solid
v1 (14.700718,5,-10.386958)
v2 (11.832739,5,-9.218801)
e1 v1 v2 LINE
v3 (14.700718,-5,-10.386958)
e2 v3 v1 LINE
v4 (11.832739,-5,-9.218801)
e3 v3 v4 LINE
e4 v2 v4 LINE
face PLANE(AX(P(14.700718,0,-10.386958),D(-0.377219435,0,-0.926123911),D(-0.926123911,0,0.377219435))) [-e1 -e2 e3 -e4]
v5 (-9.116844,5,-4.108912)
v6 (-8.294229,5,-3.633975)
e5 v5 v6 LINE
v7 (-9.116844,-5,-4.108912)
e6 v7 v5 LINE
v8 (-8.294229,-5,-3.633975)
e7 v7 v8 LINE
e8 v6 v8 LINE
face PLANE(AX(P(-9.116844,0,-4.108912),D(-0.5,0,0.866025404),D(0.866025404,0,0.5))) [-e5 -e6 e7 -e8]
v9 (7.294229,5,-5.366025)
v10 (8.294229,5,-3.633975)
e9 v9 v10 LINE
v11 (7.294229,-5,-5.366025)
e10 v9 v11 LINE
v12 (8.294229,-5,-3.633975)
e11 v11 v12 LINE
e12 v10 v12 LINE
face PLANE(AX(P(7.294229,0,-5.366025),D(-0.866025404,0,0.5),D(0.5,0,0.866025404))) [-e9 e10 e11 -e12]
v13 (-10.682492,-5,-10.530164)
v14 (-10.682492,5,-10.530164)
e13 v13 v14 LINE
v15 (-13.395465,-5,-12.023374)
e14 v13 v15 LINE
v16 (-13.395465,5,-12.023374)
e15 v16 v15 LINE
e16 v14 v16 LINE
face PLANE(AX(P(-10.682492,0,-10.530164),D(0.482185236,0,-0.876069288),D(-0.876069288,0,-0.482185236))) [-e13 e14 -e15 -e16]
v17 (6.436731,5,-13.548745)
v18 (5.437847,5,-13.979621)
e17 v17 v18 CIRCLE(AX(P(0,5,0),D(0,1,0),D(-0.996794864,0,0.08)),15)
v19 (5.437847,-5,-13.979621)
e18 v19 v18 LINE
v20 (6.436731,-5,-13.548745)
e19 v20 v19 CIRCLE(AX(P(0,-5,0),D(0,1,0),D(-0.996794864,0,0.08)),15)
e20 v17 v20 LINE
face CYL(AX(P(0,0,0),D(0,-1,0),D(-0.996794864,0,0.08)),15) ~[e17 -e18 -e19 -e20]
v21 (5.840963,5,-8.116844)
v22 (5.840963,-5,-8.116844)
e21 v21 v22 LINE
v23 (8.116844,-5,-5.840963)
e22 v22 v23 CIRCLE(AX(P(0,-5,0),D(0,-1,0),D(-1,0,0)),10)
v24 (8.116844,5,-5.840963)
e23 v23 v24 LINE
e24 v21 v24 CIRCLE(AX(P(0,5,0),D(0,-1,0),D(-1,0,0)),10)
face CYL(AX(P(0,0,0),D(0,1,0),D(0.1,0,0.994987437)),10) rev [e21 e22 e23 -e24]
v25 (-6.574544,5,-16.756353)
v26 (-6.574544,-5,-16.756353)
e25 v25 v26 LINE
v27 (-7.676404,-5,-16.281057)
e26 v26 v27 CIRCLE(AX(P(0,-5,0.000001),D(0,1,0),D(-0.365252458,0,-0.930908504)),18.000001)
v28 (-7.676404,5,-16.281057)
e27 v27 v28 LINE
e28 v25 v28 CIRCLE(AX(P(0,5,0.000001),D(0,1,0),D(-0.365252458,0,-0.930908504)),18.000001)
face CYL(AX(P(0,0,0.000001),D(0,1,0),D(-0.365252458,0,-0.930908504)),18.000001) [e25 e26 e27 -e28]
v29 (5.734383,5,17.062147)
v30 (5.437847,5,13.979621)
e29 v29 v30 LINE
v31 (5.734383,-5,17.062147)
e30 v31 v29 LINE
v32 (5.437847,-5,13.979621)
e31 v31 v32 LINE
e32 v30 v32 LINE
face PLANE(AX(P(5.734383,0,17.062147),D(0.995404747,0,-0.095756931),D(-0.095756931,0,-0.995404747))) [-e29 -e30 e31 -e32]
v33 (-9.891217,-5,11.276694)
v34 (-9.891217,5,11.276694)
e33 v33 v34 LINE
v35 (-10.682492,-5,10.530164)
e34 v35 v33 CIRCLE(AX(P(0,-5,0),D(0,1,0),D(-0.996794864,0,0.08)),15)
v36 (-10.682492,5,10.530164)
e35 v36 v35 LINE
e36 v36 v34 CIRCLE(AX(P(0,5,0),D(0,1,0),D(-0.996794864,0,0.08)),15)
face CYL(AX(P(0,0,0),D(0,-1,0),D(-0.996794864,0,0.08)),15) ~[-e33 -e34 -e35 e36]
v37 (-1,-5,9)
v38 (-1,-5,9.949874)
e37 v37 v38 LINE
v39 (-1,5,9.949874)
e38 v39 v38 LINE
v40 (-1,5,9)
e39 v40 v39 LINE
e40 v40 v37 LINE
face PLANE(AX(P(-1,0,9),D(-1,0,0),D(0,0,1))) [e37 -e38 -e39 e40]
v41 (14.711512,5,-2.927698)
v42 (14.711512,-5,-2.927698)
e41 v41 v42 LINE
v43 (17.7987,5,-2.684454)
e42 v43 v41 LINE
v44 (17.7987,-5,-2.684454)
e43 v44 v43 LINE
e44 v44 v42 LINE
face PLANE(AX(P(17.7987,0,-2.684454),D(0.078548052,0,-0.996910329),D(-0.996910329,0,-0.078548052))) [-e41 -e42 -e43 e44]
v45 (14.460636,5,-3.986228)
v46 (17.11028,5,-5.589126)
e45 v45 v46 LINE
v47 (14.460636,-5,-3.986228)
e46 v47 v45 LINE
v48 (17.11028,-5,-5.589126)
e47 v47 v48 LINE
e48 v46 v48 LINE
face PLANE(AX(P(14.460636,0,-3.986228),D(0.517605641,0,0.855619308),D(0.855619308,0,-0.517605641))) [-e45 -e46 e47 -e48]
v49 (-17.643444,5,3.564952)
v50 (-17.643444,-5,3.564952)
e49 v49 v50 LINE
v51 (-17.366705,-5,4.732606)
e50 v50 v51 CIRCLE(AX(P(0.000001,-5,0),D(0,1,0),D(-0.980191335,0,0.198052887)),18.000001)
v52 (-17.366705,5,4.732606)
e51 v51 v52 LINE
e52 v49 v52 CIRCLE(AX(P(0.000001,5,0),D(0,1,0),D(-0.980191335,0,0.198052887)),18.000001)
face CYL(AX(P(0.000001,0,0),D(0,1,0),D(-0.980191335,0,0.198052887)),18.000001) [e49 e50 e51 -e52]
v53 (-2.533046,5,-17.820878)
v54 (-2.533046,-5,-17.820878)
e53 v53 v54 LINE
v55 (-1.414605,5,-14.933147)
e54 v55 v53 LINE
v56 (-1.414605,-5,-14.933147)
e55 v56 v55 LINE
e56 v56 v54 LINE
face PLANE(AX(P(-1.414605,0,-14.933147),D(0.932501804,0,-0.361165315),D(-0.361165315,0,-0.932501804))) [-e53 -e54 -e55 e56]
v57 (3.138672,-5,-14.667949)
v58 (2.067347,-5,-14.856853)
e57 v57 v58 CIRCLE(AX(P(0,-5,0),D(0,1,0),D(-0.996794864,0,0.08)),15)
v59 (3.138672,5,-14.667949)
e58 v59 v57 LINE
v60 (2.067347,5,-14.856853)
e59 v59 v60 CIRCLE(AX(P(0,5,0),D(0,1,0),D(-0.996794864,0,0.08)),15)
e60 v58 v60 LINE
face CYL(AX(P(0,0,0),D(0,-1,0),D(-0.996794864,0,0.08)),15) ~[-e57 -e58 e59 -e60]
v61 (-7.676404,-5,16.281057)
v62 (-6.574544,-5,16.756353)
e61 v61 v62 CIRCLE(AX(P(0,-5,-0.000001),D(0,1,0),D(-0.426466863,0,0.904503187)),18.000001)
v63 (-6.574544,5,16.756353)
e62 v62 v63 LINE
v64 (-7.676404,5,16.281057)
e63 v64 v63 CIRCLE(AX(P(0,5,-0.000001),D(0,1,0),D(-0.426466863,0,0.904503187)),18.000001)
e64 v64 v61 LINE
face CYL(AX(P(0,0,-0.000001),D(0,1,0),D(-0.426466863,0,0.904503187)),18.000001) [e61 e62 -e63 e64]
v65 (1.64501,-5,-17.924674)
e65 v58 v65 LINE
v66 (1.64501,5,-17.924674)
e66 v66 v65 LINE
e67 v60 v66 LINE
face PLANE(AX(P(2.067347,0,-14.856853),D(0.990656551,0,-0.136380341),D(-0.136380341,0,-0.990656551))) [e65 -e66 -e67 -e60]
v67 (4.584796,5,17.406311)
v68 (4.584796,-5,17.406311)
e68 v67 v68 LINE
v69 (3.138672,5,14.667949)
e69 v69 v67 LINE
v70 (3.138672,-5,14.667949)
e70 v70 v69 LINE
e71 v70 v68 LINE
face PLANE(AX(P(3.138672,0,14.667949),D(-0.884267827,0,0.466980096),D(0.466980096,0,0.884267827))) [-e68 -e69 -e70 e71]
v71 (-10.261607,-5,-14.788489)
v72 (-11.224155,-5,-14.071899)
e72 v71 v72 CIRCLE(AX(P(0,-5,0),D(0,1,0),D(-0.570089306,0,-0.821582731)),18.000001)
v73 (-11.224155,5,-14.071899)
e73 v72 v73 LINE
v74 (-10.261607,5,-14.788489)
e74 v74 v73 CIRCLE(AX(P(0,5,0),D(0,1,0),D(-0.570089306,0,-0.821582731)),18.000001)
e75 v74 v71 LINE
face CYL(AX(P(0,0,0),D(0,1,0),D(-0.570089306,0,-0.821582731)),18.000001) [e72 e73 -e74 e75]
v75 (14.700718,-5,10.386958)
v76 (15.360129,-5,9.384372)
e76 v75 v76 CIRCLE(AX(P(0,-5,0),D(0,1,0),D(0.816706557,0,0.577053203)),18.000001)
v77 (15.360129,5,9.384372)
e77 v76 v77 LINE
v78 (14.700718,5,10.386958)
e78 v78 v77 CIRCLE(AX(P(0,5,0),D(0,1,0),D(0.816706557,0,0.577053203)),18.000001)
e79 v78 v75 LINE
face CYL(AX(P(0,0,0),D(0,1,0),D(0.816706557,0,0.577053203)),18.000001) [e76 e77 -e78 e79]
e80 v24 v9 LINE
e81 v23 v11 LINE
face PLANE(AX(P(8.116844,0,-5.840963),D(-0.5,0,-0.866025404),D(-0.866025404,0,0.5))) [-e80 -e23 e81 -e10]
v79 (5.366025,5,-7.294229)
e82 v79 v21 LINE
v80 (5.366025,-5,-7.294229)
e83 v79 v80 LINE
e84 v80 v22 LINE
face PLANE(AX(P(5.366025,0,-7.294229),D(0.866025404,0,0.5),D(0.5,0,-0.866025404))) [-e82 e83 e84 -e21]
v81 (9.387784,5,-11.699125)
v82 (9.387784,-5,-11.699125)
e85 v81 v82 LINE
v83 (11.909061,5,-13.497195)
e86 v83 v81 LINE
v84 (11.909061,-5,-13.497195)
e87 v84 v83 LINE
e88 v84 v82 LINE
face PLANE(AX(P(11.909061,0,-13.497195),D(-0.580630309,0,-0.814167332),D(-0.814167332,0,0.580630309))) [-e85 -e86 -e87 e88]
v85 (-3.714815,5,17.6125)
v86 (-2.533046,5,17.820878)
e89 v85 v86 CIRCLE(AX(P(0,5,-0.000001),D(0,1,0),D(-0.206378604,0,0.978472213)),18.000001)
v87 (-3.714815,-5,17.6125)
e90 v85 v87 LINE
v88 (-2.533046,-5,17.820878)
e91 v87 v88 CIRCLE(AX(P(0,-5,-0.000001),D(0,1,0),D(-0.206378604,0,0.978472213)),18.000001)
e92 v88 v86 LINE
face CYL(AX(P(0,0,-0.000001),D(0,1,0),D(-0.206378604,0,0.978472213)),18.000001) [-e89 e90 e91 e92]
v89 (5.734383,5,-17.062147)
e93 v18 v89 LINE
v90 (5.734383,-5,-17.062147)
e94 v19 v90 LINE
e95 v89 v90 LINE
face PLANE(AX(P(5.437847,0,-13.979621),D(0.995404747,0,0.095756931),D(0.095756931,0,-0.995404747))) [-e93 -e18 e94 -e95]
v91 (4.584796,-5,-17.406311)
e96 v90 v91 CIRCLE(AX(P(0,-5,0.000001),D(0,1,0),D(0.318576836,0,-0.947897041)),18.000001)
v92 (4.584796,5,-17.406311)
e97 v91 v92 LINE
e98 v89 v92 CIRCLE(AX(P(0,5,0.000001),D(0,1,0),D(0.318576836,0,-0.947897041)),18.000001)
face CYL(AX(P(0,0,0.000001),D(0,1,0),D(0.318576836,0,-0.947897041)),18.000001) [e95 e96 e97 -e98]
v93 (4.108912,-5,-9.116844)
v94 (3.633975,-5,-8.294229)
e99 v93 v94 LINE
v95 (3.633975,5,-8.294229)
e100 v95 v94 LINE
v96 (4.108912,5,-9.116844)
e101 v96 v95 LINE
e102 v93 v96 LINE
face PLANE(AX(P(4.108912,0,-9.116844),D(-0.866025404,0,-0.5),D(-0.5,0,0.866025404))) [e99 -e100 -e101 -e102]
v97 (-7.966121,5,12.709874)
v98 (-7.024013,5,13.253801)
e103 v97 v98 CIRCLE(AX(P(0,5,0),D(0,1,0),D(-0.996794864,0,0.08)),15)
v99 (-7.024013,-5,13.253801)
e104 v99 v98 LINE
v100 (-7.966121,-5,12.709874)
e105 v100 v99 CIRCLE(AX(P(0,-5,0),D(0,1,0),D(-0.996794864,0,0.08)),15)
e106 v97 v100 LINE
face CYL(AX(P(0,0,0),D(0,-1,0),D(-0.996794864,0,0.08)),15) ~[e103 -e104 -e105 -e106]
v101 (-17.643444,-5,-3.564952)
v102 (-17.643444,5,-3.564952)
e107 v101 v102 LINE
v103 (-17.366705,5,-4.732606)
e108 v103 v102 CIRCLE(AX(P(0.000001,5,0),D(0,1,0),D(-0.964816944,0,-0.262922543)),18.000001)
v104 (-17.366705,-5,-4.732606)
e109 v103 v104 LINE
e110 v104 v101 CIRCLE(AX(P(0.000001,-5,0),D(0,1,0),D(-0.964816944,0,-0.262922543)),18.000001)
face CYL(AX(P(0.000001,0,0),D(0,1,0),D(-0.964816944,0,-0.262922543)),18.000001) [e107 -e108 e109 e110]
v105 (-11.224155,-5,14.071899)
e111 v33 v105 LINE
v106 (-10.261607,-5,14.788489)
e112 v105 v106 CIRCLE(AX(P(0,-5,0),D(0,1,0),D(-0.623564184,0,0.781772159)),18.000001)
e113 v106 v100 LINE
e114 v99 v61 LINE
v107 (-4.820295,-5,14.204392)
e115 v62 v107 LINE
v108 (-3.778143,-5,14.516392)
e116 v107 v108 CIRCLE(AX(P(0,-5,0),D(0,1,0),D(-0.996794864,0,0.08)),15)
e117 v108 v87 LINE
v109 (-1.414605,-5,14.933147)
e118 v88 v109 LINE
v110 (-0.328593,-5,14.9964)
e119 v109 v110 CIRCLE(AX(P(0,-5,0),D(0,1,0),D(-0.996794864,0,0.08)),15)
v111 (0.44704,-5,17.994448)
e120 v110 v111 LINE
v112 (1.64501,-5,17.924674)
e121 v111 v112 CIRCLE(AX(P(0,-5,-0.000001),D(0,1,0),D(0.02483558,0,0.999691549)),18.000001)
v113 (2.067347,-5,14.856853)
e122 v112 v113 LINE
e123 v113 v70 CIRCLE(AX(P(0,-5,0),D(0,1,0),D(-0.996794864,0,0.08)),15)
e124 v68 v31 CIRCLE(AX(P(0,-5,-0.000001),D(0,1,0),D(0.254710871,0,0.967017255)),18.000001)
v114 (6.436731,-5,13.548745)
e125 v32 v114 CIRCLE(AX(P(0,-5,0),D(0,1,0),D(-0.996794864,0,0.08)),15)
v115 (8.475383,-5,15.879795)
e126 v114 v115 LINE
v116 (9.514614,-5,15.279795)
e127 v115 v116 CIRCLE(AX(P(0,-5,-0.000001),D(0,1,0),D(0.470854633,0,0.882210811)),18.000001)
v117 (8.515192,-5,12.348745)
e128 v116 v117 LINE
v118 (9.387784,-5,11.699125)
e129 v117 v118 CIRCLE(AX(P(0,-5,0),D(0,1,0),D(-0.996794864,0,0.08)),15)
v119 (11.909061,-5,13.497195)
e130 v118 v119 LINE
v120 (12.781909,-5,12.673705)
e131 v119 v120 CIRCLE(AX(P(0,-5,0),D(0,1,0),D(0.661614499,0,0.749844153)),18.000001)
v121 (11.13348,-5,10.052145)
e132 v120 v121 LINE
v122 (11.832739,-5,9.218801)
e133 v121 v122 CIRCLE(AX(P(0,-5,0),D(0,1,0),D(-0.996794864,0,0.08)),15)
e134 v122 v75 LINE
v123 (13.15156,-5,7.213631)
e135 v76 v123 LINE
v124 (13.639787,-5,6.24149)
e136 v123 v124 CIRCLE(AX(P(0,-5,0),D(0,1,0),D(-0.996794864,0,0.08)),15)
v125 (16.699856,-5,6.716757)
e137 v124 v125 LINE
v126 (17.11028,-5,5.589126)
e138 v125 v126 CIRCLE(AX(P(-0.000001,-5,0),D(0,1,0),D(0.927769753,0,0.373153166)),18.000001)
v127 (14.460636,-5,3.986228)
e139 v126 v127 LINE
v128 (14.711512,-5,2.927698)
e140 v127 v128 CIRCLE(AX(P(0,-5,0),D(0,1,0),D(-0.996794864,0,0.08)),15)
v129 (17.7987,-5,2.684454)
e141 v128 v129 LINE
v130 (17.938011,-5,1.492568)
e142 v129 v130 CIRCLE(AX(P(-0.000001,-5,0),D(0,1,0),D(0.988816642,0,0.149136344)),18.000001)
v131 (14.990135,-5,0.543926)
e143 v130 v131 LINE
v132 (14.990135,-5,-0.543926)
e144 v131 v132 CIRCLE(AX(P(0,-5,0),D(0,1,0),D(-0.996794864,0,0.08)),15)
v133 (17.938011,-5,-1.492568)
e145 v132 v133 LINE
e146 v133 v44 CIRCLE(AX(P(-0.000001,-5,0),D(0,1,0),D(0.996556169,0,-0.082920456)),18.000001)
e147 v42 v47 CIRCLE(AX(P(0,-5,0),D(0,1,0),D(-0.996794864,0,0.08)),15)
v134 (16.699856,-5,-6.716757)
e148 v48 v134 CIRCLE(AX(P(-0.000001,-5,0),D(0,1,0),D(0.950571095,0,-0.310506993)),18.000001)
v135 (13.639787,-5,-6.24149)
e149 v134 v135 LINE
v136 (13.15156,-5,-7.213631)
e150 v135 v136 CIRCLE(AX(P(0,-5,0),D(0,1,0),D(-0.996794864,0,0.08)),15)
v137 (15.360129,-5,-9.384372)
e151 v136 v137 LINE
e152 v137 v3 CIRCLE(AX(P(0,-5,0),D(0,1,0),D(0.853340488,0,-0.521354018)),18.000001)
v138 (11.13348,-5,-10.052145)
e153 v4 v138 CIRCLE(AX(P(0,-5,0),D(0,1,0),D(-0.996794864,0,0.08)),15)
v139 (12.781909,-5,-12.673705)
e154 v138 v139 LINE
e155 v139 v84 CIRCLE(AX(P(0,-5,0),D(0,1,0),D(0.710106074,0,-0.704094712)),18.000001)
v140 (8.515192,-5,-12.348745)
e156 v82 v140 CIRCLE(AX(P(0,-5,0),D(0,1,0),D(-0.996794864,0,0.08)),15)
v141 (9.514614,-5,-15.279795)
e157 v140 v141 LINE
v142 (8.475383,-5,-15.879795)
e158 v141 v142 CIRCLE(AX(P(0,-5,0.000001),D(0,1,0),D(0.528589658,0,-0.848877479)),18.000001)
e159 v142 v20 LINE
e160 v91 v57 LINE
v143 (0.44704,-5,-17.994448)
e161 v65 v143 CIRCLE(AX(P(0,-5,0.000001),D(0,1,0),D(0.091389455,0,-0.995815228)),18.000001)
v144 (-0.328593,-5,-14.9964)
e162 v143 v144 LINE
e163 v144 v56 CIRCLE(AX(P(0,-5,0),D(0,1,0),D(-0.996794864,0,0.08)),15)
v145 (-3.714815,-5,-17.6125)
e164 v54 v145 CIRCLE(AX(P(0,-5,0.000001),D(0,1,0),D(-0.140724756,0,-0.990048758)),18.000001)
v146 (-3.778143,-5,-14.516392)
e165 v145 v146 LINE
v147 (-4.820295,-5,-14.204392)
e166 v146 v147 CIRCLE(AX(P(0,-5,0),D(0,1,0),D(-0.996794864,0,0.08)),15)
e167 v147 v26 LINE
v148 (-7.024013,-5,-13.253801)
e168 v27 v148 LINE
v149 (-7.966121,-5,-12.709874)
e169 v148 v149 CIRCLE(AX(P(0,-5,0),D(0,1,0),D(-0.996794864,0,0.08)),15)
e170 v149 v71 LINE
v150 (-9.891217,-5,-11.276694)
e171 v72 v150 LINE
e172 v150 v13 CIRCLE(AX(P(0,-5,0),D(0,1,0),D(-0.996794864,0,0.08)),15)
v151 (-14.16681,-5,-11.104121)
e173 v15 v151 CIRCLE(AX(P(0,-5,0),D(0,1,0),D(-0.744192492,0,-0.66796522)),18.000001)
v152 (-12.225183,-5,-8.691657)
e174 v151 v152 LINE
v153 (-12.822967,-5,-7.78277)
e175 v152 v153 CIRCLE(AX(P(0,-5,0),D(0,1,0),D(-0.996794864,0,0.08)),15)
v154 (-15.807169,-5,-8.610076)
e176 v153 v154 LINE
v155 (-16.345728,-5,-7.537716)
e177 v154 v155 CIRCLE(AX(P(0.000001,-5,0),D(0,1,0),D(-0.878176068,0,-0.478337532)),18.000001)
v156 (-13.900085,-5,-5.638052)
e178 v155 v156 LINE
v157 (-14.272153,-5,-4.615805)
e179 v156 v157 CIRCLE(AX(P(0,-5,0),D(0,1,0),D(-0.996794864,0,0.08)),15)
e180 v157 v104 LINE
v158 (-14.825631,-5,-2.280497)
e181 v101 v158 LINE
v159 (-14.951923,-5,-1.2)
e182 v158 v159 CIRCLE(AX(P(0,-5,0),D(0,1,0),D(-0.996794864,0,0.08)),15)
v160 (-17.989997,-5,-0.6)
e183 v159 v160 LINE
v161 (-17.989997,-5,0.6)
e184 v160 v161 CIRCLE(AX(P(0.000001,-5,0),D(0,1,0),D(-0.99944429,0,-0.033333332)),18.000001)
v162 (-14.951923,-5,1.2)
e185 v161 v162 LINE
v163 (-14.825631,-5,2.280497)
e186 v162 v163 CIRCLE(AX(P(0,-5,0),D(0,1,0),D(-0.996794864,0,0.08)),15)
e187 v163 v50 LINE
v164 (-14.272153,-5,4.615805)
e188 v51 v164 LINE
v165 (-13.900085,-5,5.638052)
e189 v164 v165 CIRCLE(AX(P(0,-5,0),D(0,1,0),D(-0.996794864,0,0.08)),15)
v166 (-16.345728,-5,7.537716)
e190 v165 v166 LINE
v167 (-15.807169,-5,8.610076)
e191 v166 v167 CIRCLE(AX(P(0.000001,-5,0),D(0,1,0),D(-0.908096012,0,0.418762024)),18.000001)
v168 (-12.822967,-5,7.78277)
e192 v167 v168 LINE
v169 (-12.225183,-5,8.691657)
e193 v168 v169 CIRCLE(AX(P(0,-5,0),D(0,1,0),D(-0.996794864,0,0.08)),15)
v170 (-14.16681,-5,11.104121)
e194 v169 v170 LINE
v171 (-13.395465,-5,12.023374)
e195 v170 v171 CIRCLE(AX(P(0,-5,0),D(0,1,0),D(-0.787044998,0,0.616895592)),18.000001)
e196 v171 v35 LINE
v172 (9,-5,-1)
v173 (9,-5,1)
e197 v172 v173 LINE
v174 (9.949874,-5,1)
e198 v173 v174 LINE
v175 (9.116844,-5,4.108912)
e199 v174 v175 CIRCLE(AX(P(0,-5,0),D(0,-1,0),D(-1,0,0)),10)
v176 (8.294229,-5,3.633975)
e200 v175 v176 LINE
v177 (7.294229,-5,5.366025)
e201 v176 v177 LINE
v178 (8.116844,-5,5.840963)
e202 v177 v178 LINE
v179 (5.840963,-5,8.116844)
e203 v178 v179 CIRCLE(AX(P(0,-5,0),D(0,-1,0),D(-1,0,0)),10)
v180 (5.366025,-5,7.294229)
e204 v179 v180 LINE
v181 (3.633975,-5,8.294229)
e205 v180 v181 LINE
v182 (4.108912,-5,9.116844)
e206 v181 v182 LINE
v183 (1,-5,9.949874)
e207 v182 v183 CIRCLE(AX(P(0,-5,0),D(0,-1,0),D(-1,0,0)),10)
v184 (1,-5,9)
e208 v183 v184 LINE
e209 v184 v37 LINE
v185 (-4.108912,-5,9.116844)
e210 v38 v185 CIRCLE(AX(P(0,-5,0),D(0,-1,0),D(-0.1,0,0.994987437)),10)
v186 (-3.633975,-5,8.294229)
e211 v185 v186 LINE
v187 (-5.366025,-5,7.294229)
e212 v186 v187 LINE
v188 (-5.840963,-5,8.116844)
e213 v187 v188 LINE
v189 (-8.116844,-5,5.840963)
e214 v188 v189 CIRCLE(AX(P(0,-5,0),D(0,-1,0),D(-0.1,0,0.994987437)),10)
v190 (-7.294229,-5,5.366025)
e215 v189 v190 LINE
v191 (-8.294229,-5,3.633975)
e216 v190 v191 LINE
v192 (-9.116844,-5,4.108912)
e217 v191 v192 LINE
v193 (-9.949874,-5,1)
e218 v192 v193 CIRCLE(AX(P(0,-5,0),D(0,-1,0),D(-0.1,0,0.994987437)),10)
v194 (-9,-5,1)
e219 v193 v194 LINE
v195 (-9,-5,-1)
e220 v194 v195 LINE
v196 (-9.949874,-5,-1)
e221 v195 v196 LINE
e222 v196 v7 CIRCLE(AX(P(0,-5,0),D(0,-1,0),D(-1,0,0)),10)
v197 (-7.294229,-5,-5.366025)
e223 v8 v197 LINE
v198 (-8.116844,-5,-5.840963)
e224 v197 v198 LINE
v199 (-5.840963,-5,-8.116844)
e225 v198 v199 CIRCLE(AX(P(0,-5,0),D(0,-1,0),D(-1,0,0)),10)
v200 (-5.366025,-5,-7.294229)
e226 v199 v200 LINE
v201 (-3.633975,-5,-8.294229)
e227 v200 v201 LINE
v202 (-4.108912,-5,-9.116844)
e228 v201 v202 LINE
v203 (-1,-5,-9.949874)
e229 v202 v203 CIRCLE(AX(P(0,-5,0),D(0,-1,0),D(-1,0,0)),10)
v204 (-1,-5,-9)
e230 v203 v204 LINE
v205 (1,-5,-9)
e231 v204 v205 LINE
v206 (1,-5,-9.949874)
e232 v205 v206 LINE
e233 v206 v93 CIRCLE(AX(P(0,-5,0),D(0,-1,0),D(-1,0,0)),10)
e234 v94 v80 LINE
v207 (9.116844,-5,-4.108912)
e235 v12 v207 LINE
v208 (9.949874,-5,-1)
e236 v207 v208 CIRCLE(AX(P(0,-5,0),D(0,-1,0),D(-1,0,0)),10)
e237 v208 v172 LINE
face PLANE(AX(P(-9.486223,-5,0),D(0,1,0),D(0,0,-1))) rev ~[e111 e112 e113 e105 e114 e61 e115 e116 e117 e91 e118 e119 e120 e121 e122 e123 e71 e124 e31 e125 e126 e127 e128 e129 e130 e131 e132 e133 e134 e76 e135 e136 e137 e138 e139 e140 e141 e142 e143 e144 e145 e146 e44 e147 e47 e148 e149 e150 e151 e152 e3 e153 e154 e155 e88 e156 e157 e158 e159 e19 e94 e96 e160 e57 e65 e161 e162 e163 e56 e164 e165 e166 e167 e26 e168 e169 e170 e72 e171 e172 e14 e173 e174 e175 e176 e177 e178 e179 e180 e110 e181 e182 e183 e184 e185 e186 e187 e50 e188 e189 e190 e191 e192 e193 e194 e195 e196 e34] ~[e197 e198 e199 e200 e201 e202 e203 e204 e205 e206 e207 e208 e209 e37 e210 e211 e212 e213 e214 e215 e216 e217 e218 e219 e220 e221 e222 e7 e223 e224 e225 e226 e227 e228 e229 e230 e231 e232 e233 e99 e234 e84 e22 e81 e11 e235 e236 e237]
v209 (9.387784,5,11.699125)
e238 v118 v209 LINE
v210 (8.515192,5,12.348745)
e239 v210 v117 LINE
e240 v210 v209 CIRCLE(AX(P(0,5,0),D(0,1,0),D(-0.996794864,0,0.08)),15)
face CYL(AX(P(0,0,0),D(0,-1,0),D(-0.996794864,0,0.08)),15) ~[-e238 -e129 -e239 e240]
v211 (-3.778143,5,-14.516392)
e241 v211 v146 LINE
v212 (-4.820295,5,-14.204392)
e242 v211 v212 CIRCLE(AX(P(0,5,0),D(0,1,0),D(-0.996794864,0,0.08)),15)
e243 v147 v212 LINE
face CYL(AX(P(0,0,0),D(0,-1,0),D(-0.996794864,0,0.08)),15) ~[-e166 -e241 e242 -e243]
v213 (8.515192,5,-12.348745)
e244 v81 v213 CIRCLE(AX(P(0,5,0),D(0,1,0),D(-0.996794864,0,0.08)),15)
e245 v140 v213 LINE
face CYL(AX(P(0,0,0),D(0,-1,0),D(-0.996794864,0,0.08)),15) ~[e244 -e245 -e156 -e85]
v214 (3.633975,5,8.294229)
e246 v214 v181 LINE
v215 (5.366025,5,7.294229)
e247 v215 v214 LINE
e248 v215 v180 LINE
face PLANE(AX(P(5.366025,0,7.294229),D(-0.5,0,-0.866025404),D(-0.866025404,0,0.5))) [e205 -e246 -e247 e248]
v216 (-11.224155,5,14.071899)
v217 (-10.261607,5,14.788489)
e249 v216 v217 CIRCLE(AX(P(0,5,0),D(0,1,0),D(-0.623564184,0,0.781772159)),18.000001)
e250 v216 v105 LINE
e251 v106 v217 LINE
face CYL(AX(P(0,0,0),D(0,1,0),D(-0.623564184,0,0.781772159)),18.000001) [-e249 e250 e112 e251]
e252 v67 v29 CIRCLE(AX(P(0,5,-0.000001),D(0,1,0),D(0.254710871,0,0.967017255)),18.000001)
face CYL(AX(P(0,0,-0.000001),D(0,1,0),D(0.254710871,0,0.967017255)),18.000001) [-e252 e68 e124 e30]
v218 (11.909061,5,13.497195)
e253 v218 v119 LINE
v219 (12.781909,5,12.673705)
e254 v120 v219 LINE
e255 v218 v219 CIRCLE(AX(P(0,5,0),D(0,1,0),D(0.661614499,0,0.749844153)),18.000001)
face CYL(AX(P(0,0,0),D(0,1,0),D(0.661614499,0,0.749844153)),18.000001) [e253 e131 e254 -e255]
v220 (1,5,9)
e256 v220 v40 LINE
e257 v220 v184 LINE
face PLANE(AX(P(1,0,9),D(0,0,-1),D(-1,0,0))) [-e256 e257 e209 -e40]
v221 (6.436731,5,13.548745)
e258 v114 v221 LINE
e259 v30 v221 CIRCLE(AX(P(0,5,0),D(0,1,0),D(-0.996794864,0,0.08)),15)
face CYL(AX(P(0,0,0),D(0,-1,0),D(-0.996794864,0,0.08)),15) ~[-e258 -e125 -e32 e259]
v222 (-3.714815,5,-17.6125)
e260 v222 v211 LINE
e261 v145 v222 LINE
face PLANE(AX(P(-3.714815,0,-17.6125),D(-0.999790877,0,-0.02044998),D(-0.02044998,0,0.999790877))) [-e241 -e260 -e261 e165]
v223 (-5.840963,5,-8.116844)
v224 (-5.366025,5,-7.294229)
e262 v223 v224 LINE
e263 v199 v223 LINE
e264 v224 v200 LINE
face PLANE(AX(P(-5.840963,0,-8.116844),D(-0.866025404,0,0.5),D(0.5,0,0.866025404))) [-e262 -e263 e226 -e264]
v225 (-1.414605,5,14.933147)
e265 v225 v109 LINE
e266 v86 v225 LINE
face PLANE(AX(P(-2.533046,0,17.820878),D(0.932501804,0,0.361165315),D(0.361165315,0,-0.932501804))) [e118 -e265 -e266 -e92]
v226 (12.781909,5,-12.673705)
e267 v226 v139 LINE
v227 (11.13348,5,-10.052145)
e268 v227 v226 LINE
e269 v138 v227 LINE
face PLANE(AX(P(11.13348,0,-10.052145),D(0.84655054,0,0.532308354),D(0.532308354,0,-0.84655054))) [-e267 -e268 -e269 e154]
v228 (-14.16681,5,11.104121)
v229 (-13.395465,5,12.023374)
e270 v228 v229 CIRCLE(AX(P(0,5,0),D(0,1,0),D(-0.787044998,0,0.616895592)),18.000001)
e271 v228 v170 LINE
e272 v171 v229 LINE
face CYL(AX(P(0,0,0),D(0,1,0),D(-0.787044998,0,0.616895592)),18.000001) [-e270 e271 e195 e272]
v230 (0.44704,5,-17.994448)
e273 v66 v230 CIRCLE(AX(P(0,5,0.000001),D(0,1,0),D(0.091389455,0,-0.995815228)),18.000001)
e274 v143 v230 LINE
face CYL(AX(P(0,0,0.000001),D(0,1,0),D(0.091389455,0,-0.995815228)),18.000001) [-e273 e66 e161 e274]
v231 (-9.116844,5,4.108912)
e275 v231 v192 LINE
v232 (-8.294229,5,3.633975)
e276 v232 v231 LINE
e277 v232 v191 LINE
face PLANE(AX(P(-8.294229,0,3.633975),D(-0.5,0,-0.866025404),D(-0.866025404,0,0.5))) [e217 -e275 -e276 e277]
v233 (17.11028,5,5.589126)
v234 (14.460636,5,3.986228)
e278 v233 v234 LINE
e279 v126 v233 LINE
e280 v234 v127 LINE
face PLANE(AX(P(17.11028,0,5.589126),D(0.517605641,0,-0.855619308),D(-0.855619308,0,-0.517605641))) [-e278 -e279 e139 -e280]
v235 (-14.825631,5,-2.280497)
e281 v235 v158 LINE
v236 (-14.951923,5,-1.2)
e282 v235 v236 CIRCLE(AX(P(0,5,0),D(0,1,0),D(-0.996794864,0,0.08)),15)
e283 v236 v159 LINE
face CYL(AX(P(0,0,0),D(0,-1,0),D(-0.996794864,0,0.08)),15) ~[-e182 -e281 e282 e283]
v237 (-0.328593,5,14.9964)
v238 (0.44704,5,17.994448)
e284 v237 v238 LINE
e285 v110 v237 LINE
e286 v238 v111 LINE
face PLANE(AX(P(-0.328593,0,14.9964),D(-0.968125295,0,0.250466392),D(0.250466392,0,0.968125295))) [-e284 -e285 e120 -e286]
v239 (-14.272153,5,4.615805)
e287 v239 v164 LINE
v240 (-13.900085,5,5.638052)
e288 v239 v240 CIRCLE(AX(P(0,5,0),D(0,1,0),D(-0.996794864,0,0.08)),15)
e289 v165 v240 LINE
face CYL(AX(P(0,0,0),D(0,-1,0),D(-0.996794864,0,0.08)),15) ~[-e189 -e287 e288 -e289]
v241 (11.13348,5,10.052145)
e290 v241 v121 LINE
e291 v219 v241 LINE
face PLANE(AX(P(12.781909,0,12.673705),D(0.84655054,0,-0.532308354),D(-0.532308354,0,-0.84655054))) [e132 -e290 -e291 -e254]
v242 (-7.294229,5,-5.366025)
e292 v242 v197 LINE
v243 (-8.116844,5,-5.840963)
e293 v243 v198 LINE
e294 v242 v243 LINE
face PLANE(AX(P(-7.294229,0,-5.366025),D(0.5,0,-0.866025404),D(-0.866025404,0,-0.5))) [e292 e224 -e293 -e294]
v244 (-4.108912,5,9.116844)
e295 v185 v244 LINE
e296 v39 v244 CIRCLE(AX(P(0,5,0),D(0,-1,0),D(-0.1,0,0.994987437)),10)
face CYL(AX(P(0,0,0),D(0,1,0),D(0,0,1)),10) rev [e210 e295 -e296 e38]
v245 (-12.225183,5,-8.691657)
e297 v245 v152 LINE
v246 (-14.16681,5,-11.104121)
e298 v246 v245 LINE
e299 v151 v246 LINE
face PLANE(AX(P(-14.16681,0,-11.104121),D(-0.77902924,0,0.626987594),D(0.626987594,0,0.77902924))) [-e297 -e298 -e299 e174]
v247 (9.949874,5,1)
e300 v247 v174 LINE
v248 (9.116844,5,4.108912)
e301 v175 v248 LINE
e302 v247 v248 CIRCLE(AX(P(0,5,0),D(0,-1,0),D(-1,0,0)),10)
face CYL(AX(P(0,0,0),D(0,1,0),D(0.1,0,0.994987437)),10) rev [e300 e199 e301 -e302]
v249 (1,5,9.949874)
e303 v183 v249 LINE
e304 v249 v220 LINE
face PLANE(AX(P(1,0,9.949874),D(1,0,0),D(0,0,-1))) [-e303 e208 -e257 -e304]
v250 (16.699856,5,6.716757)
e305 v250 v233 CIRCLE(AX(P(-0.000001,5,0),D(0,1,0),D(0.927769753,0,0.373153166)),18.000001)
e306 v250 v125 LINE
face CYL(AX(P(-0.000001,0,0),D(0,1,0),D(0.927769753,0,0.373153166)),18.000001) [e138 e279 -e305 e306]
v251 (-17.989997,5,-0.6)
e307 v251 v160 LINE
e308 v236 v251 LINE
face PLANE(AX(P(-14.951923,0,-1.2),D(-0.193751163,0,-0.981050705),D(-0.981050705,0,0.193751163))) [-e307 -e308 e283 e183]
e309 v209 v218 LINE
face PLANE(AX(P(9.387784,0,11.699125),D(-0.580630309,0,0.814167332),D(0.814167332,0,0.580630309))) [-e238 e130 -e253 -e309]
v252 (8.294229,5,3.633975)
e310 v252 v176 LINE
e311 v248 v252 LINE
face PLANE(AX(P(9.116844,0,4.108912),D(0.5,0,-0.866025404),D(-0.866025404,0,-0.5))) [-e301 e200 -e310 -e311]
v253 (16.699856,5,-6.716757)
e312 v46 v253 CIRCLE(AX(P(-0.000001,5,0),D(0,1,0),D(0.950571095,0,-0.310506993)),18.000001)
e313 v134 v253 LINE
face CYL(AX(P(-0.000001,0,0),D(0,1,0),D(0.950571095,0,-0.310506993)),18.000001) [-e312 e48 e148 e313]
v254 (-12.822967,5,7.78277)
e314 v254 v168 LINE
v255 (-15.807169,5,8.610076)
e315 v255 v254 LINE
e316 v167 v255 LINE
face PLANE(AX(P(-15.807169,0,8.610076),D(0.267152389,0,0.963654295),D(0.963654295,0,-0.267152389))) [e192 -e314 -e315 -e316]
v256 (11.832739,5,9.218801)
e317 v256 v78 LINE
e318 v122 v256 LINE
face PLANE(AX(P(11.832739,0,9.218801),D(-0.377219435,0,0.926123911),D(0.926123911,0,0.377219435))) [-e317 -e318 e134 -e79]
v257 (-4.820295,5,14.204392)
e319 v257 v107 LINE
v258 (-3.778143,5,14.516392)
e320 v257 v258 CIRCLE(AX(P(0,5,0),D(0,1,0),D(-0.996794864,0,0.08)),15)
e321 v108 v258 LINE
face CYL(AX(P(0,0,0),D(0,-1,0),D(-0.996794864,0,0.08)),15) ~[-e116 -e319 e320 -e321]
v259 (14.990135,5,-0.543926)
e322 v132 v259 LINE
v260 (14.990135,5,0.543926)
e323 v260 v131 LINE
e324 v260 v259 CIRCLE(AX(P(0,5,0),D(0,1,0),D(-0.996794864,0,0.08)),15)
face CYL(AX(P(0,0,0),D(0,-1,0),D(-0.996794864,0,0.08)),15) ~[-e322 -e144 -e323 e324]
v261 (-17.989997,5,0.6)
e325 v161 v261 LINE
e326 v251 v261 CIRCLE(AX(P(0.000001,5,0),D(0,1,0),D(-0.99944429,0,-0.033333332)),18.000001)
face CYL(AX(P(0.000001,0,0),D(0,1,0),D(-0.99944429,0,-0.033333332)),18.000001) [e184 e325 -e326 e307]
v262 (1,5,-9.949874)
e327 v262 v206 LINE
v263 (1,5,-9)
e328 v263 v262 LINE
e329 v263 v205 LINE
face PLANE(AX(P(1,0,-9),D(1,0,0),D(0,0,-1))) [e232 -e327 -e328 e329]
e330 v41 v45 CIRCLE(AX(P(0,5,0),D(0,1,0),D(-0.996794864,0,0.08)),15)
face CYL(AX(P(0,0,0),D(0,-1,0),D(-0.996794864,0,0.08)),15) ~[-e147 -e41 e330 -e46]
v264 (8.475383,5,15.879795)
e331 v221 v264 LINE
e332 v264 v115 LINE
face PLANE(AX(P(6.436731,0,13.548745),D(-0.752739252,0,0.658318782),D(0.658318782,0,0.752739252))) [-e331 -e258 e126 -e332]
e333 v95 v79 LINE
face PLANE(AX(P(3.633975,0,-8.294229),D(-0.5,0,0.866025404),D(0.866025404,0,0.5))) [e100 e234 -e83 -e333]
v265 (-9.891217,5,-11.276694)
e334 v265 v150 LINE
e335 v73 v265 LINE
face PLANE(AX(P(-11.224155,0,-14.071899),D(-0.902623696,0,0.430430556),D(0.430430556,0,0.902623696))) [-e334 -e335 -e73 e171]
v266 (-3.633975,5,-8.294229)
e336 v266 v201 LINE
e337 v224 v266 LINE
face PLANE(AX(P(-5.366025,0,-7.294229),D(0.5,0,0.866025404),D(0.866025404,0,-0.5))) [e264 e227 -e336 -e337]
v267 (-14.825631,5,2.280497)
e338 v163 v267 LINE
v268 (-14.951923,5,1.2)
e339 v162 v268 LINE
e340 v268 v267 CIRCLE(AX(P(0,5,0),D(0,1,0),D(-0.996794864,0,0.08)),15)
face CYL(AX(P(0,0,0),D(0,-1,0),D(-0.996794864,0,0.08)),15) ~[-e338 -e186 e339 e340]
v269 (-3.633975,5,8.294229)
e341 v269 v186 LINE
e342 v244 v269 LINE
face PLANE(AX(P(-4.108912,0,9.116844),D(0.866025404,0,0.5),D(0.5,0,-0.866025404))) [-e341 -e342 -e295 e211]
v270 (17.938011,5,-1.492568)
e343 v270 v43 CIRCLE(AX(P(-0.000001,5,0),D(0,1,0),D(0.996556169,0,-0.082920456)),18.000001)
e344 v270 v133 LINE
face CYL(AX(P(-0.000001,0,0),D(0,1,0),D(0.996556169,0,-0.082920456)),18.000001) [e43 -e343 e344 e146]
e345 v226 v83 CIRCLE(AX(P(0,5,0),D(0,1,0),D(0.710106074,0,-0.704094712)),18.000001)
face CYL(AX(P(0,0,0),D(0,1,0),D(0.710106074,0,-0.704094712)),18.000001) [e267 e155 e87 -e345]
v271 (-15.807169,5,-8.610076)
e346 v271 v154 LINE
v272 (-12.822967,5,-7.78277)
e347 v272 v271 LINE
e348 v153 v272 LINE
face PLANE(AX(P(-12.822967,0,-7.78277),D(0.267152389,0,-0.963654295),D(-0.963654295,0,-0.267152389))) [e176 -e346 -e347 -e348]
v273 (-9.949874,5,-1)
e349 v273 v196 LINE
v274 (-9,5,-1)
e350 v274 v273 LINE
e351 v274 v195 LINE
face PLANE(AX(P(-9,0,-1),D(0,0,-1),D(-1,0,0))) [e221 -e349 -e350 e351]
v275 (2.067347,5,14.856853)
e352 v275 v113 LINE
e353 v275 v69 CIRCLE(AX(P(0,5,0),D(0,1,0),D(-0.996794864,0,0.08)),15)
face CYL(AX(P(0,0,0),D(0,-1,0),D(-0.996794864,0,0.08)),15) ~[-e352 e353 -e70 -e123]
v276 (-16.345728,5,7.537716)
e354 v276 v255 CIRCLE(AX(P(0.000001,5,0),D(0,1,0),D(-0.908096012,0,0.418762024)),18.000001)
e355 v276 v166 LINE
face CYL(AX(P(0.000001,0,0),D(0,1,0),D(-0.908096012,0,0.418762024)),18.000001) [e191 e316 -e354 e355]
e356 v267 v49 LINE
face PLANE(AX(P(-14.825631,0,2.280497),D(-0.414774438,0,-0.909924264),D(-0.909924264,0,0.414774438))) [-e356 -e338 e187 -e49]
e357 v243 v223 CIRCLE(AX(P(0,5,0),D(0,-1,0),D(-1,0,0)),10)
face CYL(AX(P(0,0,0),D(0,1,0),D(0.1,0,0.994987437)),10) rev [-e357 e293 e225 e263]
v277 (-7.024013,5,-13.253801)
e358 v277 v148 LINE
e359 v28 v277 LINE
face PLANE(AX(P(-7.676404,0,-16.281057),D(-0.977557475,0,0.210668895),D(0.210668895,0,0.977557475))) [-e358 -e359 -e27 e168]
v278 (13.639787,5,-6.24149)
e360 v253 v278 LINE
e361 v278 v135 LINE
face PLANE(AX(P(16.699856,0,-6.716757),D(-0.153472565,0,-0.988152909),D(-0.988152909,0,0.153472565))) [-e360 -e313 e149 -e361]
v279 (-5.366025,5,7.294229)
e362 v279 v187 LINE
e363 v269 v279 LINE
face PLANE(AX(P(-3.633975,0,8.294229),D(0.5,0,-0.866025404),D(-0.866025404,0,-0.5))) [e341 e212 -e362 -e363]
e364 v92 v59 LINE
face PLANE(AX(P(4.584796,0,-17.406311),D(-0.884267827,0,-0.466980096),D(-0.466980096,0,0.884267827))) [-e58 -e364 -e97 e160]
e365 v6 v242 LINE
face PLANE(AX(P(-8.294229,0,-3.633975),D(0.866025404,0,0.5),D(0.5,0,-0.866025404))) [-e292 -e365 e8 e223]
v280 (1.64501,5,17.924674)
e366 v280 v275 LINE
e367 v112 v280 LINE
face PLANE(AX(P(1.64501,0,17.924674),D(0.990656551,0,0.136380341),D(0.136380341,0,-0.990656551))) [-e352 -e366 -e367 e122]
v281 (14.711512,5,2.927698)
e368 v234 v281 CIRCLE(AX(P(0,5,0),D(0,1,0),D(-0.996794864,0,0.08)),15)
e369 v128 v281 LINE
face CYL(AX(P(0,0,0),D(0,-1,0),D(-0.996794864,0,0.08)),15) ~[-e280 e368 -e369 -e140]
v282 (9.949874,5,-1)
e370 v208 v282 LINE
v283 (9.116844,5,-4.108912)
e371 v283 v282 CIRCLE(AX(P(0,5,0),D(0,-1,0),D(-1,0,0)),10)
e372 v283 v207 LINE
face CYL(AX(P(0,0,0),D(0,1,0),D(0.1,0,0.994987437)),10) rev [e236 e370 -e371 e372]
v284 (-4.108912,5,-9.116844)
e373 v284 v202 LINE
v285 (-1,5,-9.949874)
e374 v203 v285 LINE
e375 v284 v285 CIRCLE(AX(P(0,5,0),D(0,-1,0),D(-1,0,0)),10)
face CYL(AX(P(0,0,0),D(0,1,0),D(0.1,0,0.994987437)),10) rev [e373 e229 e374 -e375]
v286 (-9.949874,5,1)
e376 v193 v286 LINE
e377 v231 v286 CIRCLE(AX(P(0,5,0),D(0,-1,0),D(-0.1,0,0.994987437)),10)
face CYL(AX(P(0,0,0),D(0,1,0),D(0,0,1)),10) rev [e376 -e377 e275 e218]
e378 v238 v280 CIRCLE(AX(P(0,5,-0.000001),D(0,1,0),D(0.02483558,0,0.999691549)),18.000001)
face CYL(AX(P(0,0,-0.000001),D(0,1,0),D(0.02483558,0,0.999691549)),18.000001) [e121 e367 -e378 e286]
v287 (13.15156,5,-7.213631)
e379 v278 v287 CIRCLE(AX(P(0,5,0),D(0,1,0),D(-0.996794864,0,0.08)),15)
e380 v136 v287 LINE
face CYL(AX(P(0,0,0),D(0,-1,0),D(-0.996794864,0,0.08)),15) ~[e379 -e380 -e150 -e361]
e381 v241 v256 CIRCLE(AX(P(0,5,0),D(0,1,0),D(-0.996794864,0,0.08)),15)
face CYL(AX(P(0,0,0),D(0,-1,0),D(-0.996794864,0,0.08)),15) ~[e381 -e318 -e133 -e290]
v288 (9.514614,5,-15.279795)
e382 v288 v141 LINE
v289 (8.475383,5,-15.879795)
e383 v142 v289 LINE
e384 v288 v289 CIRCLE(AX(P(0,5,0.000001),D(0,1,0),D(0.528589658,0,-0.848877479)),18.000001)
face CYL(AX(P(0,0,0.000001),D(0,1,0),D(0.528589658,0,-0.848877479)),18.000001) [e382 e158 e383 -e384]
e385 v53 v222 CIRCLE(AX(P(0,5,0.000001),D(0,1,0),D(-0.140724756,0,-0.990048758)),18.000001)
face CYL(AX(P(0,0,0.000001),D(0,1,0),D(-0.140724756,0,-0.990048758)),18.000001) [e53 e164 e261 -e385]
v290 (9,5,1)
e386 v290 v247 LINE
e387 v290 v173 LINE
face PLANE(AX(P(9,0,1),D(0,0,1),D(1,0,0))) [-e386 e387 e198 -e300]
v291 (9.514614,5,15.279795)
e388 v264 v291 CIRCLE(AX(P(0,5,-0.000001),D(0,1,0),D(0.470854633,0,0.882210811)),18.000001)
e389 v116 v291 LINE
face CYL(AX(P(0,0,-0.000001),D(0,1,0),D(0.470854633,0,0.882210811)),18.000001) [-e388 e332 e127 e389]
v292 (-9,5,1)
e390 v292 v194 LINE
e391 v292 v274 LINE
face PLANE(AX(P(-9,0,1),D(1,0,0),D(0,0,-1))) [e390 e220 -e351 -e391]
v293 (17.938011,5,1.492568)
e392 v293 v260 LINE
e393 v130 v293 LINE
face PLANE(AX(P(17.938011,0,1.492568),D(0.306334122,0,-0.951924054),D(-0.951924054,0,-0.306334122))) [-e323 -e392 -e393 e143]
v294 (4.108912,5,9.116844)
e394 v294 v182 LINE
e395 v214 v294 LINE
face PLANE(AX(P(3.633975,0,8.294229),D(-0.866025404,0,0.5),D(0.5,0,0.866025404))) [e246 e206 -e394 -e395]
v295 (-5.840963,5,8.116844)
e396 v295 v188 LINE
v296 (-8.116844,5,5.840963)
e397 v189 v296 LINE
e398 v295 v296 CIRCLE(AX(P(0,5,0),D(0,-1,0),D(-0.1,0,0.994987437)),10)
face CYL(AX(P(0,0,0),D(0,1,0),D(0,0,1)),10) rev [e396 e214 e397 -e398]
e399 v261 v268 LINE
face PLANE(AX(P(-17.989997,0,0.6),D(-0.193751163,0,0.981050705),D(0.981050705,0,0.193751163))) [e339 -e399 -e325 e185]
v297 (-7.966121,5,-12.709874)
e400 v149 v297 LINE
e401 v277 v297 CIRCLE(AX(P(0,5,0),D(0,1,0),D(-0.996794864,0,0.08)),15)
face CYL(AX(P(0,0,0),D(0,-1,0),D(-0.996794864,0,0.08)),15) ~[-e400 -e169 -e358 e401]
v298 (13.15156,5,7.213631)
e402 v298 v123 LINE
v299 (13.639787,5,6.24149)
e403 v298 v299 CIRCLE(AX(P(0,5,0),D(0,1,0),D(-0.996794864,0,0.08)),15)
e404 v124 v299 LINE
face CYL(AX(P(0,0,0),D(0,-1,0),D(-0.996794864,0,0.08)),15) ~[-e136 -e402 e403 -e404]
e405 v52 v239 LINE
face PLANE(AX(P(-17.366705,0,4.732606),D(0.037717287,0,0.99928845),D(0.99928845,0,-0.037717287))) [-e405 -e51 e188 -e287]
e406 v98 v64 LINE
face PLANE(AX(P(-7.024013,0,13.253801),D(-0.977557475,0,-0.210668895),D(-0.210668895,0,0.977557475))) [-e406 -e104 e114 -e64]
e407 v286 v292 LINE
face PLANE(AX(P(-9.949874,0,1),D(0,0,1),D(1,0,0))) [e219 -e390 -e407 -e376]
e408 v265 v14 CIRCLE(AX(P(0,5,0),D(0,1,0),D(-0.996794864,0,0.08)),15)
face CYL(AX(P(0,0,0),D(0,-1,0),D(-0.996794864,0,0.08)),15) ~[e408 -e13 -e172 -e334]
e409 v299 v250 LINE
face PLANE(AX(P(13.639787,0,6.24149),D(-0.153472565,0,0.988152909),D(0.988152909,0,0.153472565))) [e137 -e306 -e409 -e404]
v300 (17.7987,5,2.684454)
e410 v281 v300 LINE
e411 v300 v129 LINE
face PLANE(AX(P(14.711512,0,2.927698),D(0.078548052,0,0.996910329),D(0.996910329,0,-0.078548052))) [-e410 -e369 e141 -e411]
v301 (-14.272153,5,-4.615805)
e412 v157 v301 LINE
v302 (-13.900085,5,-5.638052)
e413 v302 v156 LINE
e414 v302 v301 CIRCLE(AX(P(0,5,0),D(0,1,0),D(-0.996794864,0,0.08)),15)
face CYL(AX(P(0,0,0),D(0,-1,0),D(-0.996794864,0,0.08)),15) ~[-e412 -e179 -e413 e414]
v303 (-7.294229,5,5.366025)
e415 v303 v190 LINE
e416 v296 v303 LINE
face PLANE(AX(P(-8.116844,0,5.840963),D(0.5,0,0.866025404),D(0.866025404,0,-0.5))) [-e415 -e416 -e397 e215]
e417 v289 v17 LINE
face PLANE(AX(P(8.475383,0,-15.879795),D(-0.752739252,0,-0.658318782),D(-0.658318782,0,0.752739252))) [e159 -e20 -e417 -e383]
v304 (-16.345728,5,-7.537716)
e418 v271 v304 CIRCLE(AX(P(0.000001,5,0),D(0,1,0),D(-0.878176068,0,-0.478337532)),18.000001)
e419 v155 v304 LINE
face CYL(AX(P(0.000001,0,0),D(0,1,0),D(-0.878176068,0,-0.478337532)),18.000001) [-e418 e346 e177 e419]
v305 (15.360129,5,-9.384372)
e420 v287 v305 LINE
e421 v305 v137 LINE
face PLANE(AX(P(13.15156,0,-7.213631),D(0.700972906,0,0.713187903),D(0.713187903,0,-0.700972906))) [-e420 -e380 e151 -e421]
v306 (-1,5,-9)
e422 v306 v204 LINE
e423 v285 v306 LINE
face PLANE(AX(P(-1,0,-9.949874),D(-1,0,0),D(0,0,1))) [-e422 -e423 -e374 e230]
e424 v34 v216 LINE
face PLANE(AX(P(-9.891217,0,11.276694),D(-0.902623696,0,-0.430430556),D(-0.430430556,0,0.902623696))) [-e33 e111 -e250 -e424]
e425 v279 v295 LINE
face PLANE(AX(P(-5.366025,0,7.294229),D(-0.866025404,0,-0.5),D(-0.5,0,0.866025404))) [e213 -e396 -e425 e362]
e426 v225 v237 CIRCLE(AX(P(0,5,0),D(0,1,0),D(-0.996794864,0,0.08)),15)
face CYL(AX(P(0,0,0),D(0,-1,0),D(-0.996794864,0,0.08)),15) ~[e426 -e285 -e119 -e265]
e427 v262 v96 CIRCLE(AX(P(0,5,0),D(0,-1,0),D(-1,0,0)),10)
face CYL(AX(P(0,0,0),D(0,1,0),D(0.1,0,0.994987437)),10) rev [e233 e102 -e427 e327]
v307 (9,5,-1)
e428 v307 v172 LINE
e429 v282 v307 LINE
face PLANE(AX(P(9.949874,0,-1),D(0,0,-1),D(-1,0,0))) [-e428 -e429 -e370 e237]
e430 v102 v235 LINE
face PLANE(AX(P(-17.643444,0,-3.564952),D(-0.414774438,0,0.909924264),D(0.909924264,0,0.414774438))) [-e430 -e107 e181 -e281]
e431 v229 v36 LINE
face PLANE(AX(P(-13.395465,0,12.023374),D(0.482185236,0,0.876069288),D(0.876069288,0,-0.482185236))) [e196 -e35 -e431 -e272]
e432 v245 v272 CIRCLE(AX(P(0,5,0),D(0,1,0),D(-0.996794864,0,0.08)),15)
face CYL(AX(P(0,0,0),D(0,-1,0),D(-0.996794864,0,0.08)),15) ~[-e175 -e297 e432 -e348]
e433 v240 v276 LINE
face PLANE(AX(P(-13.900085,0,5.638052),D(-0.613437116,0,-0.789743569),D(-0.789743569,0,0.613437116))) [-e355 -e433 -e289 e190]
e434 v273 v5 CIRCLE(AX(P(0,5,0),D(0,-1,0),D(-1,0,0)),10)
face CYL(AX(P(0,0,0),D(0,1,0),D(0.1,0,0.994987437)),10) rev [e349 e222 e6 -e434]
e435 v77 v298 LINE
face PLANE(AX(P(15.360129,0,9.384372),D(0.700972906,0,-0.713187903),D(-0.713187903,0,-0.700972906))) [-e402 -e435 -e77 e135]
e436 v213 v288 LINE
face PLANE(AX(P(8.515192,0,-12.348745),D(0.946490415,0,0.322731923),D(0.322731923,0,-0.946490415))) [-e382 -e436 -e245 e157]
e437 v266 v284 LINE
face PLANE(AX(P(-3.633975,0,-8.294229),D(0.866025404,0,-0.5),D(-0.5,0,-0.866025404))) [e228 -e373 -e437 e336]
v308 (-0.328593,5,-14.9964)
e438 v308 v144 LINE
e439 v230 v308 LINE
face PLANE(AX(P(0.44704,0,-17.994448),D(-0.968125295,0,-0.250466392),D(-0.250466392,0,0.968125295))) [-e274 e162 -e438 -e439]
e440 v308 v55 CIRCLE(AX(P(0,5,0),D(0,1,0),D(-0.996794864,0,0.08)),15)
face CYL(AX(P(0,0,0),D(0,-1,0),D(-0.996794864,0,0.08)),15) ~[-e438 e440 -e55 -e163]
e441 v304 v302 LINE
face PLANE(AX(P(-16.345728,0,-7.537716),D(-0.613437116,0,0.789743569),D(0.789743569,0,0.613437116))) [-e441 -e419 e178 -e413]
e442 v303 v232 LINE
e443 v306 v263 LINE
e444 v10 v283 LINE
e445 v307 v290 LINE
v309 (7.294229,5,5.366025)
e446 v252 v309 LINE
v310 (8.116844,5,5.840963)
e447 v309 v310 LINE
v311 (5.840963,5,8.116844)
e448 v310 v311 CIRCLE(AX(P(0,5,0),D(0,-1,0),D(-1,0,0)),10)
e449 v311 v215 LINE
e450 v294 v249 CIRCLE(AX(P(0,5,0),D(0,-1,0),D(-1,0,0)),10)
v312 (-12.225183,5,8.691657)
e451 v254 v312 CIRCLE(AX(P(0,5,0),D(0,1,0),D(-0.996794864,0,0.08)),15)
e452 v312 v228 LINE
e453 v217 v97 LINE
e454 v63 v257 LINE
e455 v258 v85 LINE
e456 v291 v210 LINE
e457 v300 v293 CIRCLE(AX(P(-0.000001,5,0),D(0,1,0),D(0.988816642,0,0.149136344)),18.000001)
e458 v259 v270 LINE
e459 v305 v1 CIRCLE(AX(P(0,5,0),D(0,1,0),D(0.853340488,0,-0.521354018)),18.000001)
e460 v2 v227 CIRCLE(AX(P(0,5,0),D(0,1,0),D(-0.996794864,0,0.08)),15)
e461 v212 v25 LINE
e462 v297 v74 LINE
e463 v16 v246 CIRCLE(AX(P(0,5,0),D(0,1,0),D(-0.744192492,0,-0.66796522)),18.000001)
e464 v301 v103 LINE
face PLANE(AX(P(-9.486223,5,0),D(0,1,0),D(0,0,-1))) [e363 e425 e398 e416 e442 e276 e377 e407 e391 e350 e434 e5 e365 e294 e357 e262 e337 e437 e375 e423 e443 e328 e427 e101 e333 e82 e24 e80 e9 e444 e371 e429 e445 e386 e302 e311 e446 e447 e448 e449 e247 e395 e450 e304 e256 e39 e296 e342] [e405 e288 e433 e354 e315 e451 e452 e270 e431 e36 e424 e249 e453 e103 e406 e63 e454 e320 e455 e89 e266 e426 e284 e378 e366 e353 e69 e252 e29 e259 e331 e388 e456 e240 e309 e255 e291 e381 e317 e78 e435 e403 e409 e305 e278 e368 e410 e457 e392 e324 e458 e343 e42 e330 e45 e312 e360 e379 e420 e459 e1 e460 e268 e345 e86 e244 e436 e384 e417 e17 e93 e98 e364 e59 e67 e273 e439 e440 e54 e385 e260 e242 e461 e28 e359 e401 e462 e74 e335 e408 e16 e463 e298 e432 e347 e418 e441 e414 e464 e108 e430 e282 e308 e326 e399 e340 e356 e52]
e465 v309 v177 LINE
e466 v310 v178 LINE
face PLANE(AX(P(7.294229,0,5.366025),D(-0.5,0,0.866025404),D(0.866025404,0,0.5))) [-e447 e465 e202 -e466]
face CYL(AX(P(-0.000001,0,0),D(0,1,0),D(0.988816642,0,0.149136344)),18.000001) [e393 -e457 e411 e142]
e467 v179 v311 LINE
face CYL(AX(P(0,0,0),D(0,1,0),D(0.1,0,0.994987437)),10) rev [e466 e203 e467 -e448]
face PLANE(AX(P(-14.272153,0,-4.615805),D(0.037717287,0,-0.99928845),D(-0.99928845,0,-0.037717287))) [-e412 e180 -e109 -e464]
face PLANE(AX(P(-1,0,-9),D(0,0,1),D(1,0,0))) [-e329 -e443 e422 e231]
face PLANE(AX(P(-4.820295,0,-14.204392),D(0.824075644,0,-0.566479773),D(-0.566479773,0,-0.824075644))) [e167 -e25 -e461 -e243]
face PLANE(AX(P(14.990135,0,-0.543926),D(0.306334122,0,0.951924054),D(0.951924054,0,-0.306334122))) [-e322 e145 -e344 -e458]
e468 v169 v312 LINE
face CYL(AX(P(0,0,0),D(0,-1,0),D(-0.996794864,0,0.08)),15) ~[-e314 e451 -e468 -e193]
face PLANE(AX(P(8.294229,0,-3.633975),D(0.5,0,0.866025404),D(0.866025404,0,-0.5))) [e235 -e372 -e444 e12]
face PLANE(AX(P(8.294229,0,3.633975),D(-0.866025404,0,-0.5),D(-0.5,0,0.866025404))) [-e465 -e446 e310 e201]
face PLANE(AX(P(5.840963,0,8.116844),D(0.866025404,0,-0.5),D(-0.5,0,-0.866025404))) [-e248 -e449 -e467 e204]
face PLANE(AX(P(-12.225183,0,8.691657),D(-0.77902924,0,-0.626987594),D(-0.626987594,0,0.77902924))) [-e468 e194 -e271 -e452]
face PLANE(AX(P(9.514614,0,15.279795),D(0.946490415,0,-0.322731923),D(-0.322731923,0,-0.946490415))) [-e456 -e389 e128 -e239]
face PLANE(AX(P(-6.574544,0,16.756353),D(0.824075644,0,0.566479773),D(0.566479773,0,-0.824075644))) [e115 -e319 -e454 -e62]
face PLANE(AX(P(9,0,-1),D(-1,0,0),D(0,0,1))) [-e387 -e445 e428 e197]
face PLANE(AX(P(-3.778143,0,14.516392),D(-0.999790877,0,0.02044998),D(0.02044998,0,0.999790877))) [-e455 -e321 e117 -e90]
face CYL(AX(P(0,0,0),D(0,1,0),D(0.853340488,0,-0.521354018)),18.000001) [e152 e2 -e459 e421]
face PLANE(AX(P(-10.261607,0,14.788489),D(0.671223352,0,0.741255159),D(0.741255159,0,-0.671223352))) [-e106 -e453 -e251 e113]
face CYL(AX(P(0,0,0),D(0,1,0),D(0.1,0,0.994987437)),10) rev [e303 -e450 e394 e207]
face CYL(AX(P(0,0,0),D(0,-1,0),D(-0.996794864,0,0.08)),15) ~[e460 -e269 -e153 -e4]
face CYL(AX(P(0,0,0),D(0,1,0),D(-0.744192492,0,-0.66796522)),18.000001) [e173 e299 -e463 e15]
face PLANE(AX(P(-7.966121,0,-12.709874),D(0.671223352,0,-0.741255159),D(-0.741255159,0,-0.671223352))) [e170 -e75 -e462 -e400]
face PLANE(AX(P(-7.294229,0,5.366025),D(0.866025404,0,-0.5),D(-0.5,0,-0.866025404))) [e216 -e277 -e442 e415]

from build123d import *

# Parameters (mm, degrees)
SKETCH1_R           = 15
SKETCH1_R_2         = 10
BOSS_EXTRUDE1_DEPTH = 5
BOSS_EXTRUDE2_DEPTH = 5
BOSS_EXTRUDE3_DEPTH = 5
CIRPATTERN1_COUNT   = 12
CIRPATTERN2_COUNT   = 27


with BuildPart() as part:
    # Sketch1 → Boss-Extrude1 (new, symmetric)
    with BuildSketch(Plane(origin=(0, 0, 0), x_dir=(-1, 0, 0), z_dir=(0, 1, 0))):
        Circle(SKETCH1_R)
        Circle(SKETCH1_R_2, mode=Mode.SUBTRACT)
    extrude(amount=BOSS_EXTRUDE1_DEPTH, both=True)

    # Sketch1<3> → Boss-Extrude2 (add, symmetric)
    with BuildSketch(Plane(origin=(0, 0, 0), x_dir=(-1, 0, 0), z_dir=(0, 1, 0))):
        with BuildLine():
            ThreePointArc((17.989997221, -0.6), (18, 0), (17.989997221, 0.6))
            Line((17.989997221, 0.6), (14.951922953, 1.2))
            ThreePointArc((14.951922953, 1.2), (14.987975919, 0.600481349), (15, 0))
            ThreePointArc((15, 0), (14.987975919, -0.600481349), (14.951922953, -1.2))
            Line((14.951922953, -1.2), (17.989997221, -0.6))
        make_face()
    boss_extrude2 = extrude(amount=BOSS_EXTRUDE2_DEPTH, both=True)

    # Sketch1<4> → Boss-Extrude3 (add, symmetric)
    with BuildSketch(Plane(origin=(0, 0, 0), x_dir=(-1, 0, 0), z_dir=(0, 1, 0))):
        with BuildLine():
            ThreePointArc((1, 9.949874371), (0.500627751, 9.987460731), (0, 10))
            ThreePointArc((0, 10), (-0.500627751, 9.987460731), (-1, 9.949874371))
            Line((-1, 9.949874371), (-1, 9))
            Line((-1, 9), (1, 9))
            Line((1, 9), (1, 9.949874371))
        make_face()
    boss_extrude3 = extrude(amount=BOSS_EXTRUDE3_DEPTH, both=True)

    # CirPattern1: Boss-Extrude3 ×12 about axis
    cirpattern1_axis = Axis((0, 5, 0), (0, 1, 0))
    for i in range(1, CIRPATTERN1_COUNT):
        add(boss_extrude3.rotate(cirpattern1_axis, i * 360 / CIRPATTERN1_COUNT))

    # CirPattern2: Boss-Extrude2 ×27 about axis
    cirpattern2_axis = Axis((0, -5, 0), (0, 1, 0))
    for i in range(1, CIRPATTERN2_COUNT):
        add(boss_extrude2.rotate(cirpattern2_axis, i * 360 / CIRPATTERN2_COUNT))


solid = part.part
